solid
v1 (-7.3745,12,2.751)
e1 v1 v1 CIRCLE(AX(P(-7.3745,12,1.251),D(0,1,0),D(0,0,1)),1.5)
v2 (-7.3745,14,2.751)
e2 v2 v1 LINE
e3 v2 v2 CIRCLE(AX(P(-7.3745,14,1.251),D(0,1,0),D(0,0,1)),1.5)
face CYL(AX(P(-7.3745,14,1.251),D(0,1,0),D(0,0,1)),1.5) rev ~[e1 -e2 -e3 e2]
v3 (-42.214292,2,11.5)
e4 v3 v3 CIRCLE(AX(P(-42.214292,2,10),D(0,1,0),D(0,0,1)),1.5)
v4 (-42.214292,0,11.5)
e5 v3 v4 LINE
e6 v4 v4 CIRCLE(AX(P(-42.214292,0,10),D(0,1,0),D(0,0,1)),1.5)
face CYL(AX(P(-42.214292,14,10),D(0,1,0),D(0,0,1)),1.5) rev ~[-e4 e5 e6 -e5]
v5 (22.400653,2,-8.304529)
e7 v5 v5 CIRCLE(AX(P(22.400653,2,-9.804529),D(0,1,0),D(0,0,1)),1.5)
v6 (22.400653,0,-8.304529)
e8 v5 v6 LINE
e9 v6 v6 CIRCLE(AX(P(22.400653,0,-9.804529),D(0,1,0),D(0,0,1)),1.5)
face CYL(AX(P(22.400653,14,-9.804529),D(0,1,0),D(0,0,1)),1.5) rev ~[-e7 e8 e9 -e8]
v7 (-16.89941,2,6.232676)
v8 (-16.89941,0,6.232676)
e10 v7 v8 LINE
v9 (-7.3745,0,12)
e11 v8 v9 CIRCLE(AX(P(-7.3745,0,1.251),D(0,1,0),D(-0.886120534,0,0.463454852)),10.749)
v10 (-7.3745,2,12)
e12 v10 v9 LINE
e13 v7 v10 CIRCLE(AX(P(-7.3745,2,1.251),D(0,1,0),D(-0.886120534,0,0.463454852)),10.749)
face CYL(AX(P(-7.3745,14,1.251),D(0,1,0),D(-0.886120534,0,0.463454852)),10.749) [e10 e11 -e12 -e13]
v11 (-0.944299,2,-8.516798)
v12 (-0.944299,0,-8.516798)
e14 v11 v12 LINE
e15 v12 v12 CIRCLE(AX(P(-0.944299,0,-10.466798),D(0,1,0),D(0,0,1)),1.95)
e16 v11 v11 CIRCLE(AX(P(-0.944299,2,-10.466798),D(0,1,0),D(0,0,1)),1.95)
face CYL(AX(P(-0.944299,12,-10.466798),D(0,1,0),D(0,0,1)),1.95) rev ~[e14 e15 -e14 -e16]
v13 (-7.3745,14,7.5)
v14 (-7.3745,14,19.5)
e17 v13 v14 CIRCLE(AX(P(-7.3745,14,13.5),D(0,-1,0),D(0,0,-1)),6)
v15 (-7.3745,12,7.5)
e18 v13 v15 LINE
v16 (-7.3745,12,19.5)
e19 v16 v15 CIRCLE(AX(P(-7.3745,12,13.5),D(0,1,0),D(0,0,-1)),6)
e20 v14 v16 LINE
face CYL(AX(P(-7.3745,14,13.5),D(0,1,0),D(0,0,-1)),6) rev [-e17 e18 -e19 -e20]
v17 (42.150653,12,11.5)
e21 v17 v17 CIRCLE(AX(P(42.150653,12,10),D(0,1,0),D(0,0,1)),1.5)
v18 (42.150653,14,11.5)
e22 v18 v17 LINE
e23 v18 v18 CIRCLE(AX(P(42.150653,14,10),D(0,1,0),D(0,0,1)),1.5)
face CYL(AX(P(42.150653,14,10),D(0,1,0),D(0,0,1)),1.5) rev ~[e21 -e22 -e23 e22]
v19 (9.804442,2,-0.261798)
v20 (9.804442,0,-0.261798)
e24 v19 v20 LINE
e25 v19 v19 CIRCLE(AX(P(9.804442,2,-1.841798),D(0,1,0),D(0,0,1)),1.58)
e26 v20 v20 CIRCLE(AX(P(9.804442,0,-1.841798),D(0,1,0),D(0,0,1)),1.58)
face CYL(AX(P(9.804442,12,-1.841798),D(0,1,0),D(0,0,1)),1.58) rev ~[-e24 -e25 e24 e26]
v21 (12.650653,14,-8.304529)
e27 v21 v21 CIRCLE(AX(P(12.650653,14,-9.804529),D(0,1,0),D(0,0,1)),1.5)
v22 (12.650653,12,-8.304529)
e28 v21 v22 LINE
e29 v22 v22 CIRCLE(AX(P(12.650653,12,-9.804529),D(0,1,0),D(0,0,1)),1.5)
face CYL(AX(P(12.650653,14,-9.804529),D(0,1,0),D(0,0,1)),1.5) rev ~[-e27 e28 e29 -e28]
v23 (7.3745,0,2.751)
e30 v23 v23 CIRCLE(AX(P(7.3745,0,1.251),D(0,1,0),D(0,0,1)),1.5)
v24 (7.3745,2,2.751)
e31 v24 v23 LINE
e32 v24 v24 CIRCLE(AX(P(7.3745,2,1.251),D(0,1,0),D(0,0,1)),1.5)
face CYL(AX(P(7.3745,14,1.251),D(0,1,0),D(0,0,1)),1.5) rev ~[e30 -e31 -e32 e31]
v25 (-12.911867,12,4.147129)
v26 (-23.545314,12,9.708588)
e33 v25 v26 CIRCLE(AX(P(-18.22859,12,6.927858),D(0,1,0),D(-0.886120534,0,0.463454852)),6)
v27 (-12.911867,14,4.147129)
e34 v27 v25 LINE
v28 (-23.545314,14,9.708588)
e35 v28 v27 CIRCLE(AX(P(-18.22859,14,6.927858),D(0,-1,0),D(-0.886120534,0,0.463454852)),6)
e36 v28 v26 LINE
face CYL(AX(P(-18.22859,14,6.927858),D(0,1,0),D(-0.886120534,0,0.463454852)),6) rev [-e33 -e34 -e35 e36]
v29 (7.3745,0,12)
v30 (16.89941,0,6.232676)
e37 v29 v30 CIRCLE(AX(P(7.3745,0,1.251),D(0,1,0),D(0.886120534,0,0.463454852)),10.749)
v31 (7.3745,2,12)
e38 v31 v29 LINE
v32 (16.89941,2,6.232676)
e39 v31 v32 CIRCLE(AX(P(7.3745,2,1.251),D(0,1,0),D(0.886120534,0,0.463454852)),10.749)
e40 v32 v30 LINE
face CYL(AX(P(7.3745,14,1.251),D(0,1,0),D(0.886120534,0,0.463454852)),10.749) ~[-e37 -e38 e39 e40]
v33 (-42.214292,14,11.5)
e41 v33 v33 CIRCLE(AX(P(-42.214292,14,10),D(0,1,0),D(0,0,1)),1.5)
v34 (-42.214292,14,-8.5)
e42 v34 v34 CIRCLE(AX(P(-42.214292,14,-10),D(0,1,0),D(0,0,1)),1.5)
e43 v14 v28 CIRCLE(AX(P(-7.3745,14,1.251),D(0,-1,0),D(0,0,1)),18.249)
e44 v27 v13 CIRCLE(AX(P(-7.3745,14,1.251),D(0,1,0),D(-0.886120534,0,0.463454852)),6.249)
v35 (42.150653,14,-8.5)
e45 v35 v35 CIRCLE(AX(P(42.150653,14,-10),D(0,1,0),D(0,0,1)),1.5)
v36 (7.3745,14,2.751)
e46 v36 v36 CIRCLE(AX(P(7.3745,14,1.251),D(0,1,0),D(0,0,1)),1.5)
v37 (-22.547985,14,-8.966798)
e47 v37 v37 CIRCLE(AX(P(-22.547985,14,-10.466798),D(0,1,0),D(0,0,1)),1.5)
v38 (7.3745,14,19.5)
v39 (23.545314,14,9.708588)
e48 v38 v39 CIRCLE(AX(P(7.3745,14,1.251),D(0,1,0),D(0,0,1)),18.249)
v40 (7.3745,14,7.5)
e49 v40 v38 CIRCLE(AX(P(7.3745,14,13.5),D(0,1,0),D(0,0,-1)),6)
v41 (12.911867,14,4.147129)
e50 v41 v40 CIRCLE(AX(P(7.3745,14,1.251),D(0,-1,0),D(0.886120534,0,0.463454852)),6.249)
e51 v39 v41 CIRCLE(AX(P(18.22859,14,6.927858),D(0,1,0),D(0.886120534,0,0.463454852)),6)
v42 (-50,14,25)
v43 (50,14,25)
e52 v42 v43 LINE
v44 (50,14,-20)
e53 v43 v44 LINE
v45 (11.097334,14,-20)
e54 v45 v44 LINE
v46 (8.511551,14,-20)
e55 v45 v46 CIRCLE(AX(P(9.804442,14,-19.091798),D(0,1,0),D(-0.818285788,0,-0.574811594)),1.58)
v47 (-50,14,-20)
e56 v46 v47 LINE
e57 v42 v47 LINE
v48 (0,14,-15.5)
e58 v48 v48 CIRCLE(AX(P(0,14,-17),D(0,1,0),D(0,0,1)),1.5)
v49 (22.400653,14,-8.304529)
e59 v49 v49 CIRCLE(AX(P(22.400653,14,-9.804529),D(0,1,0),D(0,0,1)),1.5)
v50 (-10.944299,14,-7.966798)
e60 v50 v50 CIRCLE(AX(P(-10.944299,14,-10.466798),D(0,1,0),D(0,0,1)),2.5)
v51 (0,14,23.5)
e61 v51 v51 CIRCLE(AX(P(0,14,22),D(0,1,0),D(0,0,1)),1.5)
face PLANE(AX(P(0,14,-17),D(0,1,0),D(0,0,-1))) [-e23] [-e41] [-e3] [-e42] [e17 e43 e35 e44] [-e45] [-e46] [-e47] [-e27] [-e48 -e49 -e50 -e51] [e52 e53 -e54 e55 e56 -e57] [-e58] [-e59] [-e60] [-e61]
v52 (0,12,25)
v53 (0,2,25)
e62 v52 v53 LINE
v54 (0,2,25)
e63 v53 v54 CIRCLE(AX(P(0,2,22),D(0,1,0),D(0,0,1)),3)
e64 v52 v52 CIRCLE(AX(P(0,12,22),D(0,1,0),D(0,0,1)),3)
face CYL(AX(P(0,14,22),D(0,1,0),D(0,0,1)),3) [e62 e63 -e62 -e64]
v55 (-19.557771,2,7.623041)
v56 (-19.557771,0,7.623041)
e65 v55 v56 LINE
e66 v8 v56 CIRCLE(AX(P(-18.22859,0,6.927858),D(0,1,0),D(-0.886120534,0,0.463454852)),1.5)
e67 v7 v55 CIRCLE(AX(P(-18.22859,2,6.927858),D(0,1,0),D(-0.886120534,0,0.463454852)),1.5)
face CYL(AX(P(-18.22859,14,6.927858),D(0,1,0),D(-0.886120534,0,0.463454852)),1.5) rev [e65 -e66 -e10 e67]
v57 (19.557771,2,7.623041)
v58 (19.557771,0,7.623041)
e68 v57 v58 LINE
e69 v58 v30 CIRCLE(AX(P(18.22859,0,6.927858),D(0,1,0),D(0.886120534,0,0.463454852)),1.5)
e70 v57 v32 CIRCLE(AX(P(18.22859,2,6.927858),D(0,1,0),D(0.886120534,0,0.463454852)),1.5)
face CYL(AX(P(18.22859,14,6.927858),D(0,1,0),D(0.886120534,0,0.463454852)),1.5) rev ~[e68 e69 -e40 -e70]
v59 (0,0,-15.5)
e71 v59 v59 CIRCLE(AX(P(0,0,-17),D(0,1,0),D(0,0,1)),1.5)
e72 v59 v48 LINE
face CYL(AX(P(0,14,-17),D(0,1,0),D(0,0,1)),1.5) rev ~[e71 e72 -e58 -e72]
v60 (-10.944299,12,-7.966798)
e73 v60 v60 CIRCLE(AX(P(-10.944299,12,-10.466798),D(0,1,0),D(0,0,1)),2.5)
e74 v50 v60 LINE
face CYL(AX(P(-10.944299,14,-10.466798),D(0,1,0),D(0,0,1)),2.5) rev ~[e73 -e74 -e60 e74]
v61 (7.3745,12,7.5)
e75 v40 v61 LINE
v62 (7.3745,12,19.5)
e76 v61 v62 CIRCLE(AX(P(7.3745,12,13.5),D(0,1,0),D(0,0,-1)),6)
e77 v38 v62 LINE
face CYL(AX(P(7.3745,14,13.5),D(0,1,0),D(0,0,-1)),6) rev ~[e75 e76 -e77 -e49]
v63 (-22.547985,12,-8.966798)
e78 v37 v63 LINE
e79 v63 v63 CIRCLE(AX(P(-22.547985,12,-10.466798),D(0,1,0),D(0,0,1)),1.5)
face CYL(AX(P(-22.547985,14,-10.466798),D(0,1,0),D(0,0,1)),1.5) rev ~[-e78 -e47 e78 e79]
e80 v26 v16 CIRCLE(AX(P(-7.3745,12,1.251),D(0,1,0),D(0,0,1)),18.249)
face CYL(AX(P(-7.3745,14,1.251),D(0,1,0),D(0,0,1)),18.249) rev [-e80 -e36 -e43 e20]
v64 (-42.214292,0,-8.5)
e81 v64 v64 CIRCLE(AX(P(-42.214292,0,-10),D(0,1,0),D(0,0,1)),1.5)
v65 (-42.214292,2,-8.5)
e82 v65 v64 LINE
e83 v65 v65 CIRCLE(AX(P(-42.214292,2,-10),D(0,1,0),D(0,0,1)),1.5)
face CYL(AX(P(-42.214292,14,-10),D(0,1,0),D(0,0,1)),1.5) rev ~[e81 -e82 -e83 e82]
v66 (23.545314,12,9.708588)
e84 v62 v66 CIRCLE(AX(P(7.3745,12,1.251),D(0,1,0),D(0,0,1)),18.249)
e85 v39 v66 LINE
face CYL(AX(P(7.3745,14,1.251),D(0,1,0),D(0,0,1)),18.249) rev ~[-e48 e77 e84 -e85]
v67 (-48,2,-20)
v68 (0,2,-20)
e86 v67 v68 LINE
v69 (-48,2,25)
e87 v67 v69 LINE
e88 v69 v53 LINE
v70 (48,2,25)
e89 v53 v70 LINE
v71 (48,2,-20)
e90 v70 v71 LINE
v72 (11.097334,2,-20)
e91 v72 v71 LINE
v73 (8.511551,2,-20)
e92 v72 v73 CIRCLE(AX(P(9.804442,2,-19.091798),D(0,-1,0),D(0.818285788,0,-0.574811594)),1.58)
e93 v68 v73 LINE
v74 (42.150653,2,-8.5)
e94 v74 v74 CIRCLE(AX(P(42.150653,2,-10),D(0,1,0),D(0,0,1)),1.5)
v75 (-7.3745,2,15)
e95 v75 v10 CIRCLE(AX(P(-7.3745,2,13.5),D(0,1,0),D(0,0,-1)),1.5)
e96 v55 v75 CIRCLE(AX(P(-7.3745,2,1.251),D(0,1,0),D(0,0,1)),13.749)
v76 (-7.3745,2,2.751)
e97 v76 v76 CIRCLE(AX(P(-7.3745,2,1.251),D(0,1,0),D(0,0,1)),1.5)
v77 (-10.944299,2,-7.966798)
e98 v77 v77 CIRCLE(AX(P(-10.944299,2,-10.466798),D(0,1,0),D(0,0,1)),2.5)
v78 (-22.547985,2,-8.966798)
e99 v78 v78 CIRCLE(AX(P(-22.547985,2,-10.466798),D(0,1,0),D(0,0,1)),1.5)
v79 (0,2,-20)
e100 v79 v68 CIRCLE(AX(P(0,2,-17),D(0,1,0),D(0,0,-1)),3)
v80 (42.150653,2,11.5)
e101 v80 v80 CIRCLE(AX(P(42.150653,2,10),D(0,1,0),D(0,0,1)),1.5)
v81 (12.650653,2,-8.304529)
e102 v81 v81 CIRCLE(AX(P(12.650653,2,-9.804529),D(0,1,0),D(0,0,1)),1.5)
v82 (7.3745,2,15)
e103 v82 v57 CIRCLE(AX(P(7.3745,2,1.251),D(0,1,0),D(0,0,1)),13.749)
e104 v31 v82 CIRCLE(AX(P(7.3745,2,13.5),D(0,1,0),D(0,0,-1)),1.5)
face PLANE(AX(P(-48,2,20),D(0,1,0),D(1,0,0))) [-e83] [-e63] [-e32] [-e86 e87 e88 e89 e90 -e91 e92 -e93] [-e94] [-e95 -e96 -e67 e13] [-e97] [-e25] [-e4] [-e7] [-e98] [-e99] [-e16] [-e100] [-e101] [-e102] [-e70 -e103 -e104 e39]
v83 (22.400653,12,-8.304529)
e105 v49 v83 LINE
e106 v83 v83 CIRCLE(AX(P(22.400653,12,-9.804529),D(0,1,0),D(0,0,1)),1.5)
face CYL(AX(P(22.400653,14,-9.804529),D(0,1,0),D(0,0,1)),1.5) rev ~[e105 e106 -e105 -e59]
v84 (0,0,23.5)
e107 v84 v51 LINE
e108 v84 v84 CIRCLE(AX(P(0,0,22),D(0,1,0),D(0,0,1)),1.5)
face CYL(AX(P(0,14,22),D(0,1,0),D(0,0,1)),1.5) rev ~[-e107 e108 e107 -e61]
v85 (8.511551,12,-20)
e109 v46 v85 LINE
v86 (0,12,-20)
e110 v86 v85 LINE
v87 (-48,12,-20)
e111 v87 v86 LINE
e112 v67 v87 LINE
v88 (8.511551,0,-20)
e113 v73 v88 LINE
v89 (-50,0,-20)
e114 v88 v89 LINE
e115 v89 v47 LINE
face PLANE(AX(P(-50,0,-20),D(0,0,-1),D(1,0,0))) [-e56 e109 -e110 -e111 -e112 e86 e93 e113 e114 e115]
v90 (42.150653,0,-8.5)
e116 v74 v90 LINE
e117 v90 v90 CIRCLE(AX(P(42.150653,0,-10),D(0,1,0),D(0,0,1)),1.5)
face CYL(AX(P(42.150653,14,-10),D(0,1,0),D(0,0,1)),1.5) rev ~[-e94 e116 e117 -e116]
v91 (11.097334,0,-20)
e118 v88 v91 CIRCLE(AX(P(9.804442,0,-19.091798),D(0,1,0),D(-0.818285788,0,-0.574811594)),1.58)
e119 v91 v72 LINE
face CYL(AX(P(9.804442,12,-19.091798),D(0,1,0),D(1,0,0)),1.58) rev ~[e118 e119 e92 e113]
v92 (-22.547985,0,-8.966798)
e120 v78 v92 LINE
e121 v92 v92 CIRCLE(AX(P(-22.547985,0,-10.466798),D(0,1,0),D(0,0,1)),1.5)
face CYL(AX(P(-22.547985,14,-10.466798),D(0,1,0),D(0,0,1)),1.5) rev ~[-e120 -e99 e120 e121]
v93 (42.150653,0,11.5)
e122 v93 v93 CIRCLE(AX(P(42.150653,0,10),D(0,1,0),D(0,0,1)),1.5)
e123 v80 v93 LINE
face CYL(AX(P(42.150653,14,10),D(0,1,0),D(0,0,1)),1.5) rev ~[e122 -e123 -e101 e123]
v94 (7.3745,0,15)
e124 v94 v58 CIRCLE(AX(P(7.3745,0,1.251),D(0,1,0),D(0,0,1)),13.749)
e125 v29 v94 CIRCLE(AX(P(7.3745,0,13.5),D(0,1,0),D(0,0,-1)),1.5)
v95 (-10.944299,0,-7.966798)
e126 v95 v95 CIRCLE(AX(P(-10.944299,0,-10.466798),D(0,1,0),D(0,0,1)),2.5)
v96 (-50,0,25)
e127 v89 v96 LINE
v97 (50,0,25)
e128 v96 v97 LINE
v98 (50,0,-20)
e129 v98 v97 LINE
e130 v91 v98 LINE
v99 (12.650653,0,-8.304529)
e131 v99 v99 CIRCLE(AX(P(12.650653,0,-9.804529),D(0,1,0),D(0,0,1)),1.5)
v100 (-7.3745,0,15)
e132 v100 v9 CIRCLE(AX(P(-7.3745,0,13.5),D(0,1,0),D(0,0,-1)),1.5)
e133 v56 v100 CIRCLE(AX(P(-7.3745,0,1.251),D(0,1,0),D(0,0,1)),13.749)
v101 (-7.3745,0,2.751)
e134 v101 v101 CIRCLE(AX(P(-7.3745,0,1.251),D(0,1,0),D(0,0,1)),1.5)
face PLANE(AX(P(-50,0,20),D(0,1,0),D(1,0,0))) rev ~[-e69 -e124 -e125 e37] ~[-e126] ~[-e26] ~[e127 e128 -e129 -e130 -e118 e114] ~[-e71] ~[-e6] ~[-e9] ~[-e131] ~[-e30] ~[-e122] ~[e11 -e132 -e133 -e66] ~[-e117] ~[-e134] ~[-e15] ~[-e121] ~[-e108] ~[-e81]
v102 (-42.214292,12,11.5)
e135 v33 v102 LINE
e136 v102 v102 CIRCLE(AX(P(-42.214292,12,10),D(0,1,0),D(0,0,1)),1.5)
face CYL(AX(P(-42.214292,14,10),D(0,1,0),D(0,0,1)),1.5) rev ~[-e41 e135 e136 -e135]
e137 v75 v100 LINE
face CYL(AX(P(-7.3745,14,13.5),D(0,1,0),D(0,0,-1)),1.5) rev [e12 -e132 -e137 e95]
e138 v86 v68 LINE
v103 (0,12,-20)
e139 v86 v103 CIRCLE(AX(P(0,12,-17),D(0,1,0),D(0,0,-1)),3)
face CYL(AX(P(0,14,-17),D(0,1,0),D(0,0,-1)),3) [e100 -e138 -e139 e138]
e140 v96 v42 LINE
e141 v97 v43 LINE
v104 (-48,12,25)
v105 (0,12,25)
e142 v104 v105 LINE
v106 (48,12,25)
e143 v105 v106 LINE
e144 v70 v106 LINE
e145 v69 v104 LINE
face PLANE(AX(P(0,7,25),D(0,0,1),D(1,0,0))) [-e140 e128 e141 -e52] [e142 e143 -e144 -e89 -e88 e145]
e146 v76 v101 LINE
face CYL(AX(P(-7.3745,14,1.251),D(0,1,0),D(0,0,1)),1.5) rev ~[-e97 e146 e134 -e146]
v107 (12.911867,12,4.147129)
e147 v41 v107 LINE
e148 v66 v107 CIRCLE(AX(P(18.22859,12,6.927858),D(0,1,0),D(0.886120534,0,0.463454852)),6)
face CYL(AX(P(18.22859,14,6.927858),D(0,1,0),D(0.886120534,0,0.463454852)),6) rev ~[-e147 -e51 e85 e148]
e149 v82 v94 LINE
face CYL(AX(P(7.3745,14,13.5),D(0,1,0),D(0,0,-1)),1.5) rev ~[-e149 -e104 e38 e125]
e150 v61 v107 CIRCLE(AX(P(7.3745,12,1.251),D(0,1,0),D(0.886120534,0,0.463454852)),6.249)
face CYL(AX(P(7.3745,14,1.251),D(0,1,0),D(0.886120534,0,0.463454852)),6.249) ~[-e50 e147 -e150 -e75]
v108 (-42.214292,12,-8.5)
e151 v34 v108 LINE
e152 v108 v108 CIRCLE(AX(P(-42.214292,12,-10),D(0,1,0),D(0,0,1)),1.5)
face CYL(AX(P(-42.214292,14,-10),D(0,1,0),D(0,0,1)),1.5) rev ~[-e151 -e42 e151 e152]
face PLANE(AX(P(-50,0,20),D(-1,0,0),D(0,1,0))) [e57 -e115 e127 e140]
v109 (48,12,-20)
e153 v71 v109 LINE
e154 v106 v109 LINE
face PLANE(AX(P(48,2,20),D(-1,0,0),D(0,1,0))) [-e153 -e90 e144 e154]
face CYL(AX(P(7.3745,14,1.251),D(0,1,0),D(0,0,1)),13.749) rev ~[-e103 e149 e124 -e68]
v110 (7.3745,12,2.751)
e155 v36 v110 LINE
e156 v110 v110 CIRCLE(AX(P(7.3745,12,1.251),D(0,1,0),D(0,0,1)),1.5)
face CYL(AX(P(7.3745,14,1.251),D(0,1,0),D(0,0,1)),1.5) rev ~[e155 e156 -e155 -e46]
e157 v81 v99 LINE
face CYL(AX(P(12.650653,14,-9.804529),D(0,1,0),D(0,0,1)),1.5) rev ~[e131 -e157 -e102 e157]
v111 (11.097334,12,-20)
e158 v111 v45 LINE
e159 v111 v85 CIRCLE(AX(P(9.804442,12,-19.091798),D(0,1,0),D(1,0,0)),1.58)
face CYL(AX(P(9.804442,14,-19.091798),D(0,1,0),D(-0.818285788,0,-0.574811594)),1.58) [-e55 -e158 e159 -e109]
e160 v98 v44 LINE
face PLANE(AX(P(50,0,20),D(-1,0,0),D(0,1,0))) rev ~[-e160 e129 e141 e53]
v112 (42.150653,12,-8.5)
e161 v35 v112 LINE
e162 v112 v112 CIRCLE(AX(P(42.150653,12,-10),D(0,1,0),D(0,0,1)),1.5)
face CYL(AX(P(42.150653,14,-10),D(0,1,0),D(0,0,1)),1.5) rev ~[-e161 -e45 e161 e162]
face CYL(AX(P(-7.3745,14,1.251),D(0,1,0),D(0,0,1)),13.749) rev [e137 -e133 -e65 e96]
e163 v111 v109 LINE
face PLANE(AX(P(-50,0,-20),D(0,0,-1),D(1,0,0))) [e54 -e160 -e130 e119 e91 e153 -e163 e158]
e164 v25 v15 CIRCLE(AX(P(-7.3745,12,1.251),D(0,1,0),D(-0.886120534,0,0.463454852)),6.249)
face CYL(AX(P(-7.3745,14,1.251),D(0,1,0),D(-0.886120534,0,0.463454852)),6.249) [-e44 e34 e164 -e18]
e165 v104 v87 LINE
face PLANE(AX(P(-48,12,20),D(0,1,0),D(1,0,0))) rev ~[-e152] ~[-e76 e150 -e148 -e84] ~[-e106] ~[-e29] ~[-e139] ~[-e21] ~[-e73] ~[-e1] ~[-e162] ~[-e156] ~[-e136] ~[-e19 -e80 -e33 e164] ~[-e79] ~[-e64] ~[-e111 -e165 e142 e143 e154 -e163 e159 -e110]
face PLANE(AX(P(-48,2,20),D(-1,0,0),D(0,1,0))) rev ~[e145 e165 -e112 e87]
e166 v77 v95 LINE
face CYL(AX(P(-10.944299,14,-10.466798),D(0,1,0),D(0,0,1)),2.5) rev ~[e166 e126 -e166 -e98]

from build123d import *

# Parameters (mm, degrees)
SKETCH2_W           = 100
SKETCH2_H           = 40
BOSS_EXTRUDE5_DEPTH = 14
SHELL1_T            = -2
SKETCH3_6_R         = 2.5
SKETCH3_6_R_2       = 1.5
CUT_EXTRUDE8_DEPTH  = 56.641710973
CUT_EXTRUDE9_DEPTH  = 12
SKETCH5_W           = 100
SKETCH5_H           = 14
SKETCH5_W_2         = 96
SKETCH5_H_2         = 10
BOSS_EXTRUDE6_DEPTH = 5
SKETCH6_R           = 3
SKETCH6_R_2         = 1.5
SKETCH6_R_3         = 1.58
SKETCH6_R_4         = 1.95
BOSS_EXTRUDE7_DEPTH = 14
SKETCH6_2_R         = 1.5
CUT_EXTRUDE11_DEPTH = 58.628118137
CUT_EXTRUDE12_START = -2
SKETCH6_3_R         = 1.58
SKETCH6_3_R_2       = 1.95
CUT_EXTRUDE12_DEPTH = 56.628118137


with BuildPart() as part:
    # Sketch2 → Boss-Extrude5 (new body)
    with BuildSketch(Plane(origin=(0, 0, 0), x_dir=(1, 0, 0), z_dir=(0, 1, 0))):
        Rectangle(SKETCH2_W, SKETCH2_H)
    extrude(amount=BOSS_EXTRUDE5_DEPTH)

    # Shell1
    shell1_openings = [part.faces().sort_by_distance(p)[0] for p in [
        (0, 7, -20),
        (0, 7, 20),
    ]]
    offset(amount=SHELL1_T, openings=shell1_openings, kind=Kind.INTERSECTION)

    # Sketch3<6> → Cut-Extrude8 (cut, through all)
    with BuildSketch(Plane(origin=(0, 14, 0), x_dir=(1, 0, 0), z_dir=(0, 1, 0))):
        with Locations(Location((-10.944299399, 10.466797681, 0), (0, 0, 270))):
            Circle(SKETCH3_6_R)
        with Locations(Location((-42.214291858, -10, 0), (0, 0, 270))):
            Circle(SKETCH3_6_R_2)
        with Locations(Location((-42.214291858, 10, 0), (0, 0, 270))):
            Circle(SKETCH3_6_R_2)
        with Locations(Location((-22.547984959, 10.466797681, 0), (0, 0, 270))):
            Circle(SKETCH3_6_R_2)
        with Locations(Location((-7.3745, -1.251, 0), (0, 0, 270))):
            Circle(SKETCH3_6_R_2)
        with Locations(Location((7.3745, -1.251, 0), (0, 0, 270))):
            Circle(SKETCH3_6_R_2)
        with Locations(Location((12.650652812, 9.804528549, 0), (0, 0, 270))):
            Circle(SKETCH3_6_R_2)
        with Locations(Location((22.400652812, 9.804528549, 0), (0, 0, 270))):
            Circle(SKETCH3_6_R_2)
        with BuildLine():
            ThreePointArc((7.3745, -15), (14.495799481, -13.012041395), (19.557771218, -7.623040759))
            ThreePointArc((19.557771218, -7.623040759), (18.923772695, -5.598677681), (16.899409617, -6.232676204))
            ThreePointArc((16.899409617, -6.232676204), (12.941948405, -10.445809365), (7.3745, -12))
            ThreePointArc((7.3745, -12), (5.8745, -13.5), (7.3745, -15))
        make_face()
        with BuildLine():
            ThreePointArc((-7.3745, -15), (-14.495799481, -13.012041395), (-19.557771218, -7.623040759))
            ThreePointArc((-19.557771218, -7.623040759), (-18.923772695, -5.598677681), (-16.899409617, -6.232676204))
            ThreePointArc((-16.899409617, -6.232676204), (-12.941948405, -10.445809365), (-7.3745, -12))
            ThreePointArc((-7.3745, -12), (-5.8745, -13.5), (-7.3745, -15))
        make_face()
        with Locations(Location((42.150652812, 10, 0), (0, 0, 270))):
            Circle(SKETCH3_6_R_2)
        with Locations(Location((42.150652812, -10, 0), (0, 0, 270))):
            Circle(SKETCH3_6_R_2)
    extrude(amount=-CUT_EXTRUDE8_DEPTH, mode=Mode.SUBTRACT)

    # Sketch3 → Cut-Extrude9 (cut)
    # profile 1 of 2: a face of its own
    with BuildSketch(Plane(origin=(0, 14, 0), x_dir=(1, 0, 0), z_dir=(0, 1, 0))):
        with BuildLine():
            ThreePointArc((-23.545313619, -9.708587593), (-21.009319529, -1.611135279), (-12.911867215, -4.14712937))
            ThreePointArc((-12.911867215, -4.14712937), (-10.611171791, -6.596461319), (-7.3745, -7.5))
            ThreePointArc((-7.3745, -7.5), (-1.3745, -13.5), (-7.3745, -19.5))
            ThreePointArc((-7.3745, -19.5), (-16.826576095, -16.861389441), (-23.545313619, -9.708587593))
        make_face()
        with BuildLine():
            ThreePointArc((-7.3745, -15), (-14.495799481, -13.012041395), (-19.557771218, -7.623040759))
            ThreePointArc((-19.557771218, -7.623040759), (-18.923772695, -5.598677681), (-16.899409617, -6.232676204))
            ThreePointArc((-16.899409617, -6.232676204), (-12.941948405, -10.445809365), (-7.3745, -12))
            ThreePointArc((-7.3745, -12), (-5.8745, -13.5), (-7.3745, -15))
        make_face(mode=Mode.SUBTRACT)
    # profile 2 of 2: a face of its own
    with BuildSketch(Plane(origin=(0, 14, 0), x_dir=(1, 0, 0), z_dir=(0, 1, 0))):
        with BuildLine():
            ThreePointArc((7.3745, -19.5), (16.826576095, -16.861389441), (23.545313619, -9.708587593))
            ThreePointArc((23.545313619, -9.708587593), (21.009319529, -1.611135279), (12.911867215, -4.14712937))
            ThreePointArc((12.911867215, -4.14712937), (10.611171791, -6.596461319), (7.3745, -7.5))
            ThreePointArc((7.3745, -7.5), (1.3745, -13.5), (7.3745, -19.5))
        make_face()
        with BuildLine():
            ThreePointArc((19.557771218, -7.623040759), (18.923772695, -5.598677681), (16.899409617, -6.232676204))
            ThreePointArc((16.899409617, -6.232676204), (12.941948405, -10.445809365), (7.3745, -12))
            ThreePointArc((7.3745, -12), (5.8745, -13.5), (7.3745, -15))
            ThreePointArc((7.3745, -15), (14.495799481, -13.012041395), (19.557771218, -7.623040759))
        make_face(mode=Mode.SUBTRACT)
    extrude(amount=-CUT_EXTRUDE9_DEPTH, mode=Mode.SUBTRACT)

    # Sketch5 → Boss-Extrude6 (add)
    with BuildSketch(Plane.XY.offset(20)):
        with Locations((0, 7)):
            Rectangle(SKETCH5_W, SKETCH5_H)
        with Locations((0, 7)):
            Rectangle(SKETCH5_W_2, SKETCH5_H_2, mode=Mode.SUBTRACT)
    extrude(amount=BOSS_EXTRUDE6_DEPTH)

    # Sketch6 → Boss-Extrude7 (add, through all)
    # profile 1 of 5: a face of its own
    with BuildSketch(Plane(origin=(0, 14, 0), x_dir=(1, 0, 0), z_dir=(0, 1, 0))):
        with Locations(Location((0, 17, 0), (0, 0, 90))):
            Circle(SKETCH6_R)
        with Locations(Location((0, 17, 0), (0, 0, 270))):
            Circle(SKETCH6_R_2, mode=Mode.SUBTRACT)
    # profile 2 of 5: a face of its own
    with BuildSketch(Plane(origin=(0, 14, 0), x_dir=(1, 0, 0), z_dir=(0, 1, 0))):
        with Locations(Location((0, -22, 0), (0, 0, 270))):
            Circle(SKETCH6_R)
        with Locations(Location((0, -22, 0), (0, 0, 270))):
            Circle(SKETCH6_R_2, mode=Mode.SUBTRACT)
    # profile 3 of 5: a face of its own
    with BuildSketch(Plane(origin=(0, 14, 0), x_dir=(1, 0, 0), z_dir=(0, 1, 0))):
        with Locations(Location((9.804442129, 19.091797681, 0), (0, 0, 144.913560917))):
            Circle(SKETCH6_R_3)
    # profile 4 of 5: a face of its own
    with BuildSketch(Plane(origin=(0, 14, 0), x_dir=(1, 0, 0), z_dir=(0, 1, 0))):
        with Locations(Location((9.804442129, 1.841797681, 0), (0, 0, 270))):
            Circle(SKETCH6_R_3)
    # profile 5 of 5: a face of its own
    with BuildSketch(Plane(origin=(0, 14, 0), x_dir=(1, 0, 0), z_dir=(0, 1, 0))):
        with Locations(Location((-0.944299399, 10.466797681, 0), (0, 0, 270))):
            Circle(SKETCH6_R_4)
    extrude(amount=-BOSS_EXTRUDE7_DEPTH)

    # Sketch6<2> → Cut-Extrude11 (cut, through all)
    with BuildSketch(Plane(origin=(0, 14, 0), x_dir=(1, 0, 0), z_dir=(0, 1, 0))):
        with Locations(Location((0, -22, 0), (0, 0, 270))):
            Circle(SKETCH6_2_R)
        with Locations(Location((0, 17, 0), (0, 0, 270))):
            Circle(SKETCH6_2_R)
    extrude(amount=-CUT_EXTRUDE11_DEPTH, mode=Mode.SUBTRACT)

    # Sketch6<3> → Cut-Extrude12 (cut, through all)
    with BuildSketch(Plane(origin=(0, 14, 0), x_dir=(1, 0, 0), z_dir=(0, 1, 0)).offset(CUT_EXTRUDE12_START)):
        with Locations((9.804442129, 19.091797681)):
            Circle(SKETCH6_3_R)
        with Locations(Location((9.804442129, 1.841797681, 0), (0, 0, 270))):
            Circle(SKETCH6_3_R)
        with Locations(Location((-0.944299399, 10.466797681, 0), (0, 0, 270))):
            Circle(SKETCH6_3_R_2)
    extrude(amount=-CUT_EXTRUDE12_DEPTH, mode=Mode.SUBTRACT)


solid = part.part
